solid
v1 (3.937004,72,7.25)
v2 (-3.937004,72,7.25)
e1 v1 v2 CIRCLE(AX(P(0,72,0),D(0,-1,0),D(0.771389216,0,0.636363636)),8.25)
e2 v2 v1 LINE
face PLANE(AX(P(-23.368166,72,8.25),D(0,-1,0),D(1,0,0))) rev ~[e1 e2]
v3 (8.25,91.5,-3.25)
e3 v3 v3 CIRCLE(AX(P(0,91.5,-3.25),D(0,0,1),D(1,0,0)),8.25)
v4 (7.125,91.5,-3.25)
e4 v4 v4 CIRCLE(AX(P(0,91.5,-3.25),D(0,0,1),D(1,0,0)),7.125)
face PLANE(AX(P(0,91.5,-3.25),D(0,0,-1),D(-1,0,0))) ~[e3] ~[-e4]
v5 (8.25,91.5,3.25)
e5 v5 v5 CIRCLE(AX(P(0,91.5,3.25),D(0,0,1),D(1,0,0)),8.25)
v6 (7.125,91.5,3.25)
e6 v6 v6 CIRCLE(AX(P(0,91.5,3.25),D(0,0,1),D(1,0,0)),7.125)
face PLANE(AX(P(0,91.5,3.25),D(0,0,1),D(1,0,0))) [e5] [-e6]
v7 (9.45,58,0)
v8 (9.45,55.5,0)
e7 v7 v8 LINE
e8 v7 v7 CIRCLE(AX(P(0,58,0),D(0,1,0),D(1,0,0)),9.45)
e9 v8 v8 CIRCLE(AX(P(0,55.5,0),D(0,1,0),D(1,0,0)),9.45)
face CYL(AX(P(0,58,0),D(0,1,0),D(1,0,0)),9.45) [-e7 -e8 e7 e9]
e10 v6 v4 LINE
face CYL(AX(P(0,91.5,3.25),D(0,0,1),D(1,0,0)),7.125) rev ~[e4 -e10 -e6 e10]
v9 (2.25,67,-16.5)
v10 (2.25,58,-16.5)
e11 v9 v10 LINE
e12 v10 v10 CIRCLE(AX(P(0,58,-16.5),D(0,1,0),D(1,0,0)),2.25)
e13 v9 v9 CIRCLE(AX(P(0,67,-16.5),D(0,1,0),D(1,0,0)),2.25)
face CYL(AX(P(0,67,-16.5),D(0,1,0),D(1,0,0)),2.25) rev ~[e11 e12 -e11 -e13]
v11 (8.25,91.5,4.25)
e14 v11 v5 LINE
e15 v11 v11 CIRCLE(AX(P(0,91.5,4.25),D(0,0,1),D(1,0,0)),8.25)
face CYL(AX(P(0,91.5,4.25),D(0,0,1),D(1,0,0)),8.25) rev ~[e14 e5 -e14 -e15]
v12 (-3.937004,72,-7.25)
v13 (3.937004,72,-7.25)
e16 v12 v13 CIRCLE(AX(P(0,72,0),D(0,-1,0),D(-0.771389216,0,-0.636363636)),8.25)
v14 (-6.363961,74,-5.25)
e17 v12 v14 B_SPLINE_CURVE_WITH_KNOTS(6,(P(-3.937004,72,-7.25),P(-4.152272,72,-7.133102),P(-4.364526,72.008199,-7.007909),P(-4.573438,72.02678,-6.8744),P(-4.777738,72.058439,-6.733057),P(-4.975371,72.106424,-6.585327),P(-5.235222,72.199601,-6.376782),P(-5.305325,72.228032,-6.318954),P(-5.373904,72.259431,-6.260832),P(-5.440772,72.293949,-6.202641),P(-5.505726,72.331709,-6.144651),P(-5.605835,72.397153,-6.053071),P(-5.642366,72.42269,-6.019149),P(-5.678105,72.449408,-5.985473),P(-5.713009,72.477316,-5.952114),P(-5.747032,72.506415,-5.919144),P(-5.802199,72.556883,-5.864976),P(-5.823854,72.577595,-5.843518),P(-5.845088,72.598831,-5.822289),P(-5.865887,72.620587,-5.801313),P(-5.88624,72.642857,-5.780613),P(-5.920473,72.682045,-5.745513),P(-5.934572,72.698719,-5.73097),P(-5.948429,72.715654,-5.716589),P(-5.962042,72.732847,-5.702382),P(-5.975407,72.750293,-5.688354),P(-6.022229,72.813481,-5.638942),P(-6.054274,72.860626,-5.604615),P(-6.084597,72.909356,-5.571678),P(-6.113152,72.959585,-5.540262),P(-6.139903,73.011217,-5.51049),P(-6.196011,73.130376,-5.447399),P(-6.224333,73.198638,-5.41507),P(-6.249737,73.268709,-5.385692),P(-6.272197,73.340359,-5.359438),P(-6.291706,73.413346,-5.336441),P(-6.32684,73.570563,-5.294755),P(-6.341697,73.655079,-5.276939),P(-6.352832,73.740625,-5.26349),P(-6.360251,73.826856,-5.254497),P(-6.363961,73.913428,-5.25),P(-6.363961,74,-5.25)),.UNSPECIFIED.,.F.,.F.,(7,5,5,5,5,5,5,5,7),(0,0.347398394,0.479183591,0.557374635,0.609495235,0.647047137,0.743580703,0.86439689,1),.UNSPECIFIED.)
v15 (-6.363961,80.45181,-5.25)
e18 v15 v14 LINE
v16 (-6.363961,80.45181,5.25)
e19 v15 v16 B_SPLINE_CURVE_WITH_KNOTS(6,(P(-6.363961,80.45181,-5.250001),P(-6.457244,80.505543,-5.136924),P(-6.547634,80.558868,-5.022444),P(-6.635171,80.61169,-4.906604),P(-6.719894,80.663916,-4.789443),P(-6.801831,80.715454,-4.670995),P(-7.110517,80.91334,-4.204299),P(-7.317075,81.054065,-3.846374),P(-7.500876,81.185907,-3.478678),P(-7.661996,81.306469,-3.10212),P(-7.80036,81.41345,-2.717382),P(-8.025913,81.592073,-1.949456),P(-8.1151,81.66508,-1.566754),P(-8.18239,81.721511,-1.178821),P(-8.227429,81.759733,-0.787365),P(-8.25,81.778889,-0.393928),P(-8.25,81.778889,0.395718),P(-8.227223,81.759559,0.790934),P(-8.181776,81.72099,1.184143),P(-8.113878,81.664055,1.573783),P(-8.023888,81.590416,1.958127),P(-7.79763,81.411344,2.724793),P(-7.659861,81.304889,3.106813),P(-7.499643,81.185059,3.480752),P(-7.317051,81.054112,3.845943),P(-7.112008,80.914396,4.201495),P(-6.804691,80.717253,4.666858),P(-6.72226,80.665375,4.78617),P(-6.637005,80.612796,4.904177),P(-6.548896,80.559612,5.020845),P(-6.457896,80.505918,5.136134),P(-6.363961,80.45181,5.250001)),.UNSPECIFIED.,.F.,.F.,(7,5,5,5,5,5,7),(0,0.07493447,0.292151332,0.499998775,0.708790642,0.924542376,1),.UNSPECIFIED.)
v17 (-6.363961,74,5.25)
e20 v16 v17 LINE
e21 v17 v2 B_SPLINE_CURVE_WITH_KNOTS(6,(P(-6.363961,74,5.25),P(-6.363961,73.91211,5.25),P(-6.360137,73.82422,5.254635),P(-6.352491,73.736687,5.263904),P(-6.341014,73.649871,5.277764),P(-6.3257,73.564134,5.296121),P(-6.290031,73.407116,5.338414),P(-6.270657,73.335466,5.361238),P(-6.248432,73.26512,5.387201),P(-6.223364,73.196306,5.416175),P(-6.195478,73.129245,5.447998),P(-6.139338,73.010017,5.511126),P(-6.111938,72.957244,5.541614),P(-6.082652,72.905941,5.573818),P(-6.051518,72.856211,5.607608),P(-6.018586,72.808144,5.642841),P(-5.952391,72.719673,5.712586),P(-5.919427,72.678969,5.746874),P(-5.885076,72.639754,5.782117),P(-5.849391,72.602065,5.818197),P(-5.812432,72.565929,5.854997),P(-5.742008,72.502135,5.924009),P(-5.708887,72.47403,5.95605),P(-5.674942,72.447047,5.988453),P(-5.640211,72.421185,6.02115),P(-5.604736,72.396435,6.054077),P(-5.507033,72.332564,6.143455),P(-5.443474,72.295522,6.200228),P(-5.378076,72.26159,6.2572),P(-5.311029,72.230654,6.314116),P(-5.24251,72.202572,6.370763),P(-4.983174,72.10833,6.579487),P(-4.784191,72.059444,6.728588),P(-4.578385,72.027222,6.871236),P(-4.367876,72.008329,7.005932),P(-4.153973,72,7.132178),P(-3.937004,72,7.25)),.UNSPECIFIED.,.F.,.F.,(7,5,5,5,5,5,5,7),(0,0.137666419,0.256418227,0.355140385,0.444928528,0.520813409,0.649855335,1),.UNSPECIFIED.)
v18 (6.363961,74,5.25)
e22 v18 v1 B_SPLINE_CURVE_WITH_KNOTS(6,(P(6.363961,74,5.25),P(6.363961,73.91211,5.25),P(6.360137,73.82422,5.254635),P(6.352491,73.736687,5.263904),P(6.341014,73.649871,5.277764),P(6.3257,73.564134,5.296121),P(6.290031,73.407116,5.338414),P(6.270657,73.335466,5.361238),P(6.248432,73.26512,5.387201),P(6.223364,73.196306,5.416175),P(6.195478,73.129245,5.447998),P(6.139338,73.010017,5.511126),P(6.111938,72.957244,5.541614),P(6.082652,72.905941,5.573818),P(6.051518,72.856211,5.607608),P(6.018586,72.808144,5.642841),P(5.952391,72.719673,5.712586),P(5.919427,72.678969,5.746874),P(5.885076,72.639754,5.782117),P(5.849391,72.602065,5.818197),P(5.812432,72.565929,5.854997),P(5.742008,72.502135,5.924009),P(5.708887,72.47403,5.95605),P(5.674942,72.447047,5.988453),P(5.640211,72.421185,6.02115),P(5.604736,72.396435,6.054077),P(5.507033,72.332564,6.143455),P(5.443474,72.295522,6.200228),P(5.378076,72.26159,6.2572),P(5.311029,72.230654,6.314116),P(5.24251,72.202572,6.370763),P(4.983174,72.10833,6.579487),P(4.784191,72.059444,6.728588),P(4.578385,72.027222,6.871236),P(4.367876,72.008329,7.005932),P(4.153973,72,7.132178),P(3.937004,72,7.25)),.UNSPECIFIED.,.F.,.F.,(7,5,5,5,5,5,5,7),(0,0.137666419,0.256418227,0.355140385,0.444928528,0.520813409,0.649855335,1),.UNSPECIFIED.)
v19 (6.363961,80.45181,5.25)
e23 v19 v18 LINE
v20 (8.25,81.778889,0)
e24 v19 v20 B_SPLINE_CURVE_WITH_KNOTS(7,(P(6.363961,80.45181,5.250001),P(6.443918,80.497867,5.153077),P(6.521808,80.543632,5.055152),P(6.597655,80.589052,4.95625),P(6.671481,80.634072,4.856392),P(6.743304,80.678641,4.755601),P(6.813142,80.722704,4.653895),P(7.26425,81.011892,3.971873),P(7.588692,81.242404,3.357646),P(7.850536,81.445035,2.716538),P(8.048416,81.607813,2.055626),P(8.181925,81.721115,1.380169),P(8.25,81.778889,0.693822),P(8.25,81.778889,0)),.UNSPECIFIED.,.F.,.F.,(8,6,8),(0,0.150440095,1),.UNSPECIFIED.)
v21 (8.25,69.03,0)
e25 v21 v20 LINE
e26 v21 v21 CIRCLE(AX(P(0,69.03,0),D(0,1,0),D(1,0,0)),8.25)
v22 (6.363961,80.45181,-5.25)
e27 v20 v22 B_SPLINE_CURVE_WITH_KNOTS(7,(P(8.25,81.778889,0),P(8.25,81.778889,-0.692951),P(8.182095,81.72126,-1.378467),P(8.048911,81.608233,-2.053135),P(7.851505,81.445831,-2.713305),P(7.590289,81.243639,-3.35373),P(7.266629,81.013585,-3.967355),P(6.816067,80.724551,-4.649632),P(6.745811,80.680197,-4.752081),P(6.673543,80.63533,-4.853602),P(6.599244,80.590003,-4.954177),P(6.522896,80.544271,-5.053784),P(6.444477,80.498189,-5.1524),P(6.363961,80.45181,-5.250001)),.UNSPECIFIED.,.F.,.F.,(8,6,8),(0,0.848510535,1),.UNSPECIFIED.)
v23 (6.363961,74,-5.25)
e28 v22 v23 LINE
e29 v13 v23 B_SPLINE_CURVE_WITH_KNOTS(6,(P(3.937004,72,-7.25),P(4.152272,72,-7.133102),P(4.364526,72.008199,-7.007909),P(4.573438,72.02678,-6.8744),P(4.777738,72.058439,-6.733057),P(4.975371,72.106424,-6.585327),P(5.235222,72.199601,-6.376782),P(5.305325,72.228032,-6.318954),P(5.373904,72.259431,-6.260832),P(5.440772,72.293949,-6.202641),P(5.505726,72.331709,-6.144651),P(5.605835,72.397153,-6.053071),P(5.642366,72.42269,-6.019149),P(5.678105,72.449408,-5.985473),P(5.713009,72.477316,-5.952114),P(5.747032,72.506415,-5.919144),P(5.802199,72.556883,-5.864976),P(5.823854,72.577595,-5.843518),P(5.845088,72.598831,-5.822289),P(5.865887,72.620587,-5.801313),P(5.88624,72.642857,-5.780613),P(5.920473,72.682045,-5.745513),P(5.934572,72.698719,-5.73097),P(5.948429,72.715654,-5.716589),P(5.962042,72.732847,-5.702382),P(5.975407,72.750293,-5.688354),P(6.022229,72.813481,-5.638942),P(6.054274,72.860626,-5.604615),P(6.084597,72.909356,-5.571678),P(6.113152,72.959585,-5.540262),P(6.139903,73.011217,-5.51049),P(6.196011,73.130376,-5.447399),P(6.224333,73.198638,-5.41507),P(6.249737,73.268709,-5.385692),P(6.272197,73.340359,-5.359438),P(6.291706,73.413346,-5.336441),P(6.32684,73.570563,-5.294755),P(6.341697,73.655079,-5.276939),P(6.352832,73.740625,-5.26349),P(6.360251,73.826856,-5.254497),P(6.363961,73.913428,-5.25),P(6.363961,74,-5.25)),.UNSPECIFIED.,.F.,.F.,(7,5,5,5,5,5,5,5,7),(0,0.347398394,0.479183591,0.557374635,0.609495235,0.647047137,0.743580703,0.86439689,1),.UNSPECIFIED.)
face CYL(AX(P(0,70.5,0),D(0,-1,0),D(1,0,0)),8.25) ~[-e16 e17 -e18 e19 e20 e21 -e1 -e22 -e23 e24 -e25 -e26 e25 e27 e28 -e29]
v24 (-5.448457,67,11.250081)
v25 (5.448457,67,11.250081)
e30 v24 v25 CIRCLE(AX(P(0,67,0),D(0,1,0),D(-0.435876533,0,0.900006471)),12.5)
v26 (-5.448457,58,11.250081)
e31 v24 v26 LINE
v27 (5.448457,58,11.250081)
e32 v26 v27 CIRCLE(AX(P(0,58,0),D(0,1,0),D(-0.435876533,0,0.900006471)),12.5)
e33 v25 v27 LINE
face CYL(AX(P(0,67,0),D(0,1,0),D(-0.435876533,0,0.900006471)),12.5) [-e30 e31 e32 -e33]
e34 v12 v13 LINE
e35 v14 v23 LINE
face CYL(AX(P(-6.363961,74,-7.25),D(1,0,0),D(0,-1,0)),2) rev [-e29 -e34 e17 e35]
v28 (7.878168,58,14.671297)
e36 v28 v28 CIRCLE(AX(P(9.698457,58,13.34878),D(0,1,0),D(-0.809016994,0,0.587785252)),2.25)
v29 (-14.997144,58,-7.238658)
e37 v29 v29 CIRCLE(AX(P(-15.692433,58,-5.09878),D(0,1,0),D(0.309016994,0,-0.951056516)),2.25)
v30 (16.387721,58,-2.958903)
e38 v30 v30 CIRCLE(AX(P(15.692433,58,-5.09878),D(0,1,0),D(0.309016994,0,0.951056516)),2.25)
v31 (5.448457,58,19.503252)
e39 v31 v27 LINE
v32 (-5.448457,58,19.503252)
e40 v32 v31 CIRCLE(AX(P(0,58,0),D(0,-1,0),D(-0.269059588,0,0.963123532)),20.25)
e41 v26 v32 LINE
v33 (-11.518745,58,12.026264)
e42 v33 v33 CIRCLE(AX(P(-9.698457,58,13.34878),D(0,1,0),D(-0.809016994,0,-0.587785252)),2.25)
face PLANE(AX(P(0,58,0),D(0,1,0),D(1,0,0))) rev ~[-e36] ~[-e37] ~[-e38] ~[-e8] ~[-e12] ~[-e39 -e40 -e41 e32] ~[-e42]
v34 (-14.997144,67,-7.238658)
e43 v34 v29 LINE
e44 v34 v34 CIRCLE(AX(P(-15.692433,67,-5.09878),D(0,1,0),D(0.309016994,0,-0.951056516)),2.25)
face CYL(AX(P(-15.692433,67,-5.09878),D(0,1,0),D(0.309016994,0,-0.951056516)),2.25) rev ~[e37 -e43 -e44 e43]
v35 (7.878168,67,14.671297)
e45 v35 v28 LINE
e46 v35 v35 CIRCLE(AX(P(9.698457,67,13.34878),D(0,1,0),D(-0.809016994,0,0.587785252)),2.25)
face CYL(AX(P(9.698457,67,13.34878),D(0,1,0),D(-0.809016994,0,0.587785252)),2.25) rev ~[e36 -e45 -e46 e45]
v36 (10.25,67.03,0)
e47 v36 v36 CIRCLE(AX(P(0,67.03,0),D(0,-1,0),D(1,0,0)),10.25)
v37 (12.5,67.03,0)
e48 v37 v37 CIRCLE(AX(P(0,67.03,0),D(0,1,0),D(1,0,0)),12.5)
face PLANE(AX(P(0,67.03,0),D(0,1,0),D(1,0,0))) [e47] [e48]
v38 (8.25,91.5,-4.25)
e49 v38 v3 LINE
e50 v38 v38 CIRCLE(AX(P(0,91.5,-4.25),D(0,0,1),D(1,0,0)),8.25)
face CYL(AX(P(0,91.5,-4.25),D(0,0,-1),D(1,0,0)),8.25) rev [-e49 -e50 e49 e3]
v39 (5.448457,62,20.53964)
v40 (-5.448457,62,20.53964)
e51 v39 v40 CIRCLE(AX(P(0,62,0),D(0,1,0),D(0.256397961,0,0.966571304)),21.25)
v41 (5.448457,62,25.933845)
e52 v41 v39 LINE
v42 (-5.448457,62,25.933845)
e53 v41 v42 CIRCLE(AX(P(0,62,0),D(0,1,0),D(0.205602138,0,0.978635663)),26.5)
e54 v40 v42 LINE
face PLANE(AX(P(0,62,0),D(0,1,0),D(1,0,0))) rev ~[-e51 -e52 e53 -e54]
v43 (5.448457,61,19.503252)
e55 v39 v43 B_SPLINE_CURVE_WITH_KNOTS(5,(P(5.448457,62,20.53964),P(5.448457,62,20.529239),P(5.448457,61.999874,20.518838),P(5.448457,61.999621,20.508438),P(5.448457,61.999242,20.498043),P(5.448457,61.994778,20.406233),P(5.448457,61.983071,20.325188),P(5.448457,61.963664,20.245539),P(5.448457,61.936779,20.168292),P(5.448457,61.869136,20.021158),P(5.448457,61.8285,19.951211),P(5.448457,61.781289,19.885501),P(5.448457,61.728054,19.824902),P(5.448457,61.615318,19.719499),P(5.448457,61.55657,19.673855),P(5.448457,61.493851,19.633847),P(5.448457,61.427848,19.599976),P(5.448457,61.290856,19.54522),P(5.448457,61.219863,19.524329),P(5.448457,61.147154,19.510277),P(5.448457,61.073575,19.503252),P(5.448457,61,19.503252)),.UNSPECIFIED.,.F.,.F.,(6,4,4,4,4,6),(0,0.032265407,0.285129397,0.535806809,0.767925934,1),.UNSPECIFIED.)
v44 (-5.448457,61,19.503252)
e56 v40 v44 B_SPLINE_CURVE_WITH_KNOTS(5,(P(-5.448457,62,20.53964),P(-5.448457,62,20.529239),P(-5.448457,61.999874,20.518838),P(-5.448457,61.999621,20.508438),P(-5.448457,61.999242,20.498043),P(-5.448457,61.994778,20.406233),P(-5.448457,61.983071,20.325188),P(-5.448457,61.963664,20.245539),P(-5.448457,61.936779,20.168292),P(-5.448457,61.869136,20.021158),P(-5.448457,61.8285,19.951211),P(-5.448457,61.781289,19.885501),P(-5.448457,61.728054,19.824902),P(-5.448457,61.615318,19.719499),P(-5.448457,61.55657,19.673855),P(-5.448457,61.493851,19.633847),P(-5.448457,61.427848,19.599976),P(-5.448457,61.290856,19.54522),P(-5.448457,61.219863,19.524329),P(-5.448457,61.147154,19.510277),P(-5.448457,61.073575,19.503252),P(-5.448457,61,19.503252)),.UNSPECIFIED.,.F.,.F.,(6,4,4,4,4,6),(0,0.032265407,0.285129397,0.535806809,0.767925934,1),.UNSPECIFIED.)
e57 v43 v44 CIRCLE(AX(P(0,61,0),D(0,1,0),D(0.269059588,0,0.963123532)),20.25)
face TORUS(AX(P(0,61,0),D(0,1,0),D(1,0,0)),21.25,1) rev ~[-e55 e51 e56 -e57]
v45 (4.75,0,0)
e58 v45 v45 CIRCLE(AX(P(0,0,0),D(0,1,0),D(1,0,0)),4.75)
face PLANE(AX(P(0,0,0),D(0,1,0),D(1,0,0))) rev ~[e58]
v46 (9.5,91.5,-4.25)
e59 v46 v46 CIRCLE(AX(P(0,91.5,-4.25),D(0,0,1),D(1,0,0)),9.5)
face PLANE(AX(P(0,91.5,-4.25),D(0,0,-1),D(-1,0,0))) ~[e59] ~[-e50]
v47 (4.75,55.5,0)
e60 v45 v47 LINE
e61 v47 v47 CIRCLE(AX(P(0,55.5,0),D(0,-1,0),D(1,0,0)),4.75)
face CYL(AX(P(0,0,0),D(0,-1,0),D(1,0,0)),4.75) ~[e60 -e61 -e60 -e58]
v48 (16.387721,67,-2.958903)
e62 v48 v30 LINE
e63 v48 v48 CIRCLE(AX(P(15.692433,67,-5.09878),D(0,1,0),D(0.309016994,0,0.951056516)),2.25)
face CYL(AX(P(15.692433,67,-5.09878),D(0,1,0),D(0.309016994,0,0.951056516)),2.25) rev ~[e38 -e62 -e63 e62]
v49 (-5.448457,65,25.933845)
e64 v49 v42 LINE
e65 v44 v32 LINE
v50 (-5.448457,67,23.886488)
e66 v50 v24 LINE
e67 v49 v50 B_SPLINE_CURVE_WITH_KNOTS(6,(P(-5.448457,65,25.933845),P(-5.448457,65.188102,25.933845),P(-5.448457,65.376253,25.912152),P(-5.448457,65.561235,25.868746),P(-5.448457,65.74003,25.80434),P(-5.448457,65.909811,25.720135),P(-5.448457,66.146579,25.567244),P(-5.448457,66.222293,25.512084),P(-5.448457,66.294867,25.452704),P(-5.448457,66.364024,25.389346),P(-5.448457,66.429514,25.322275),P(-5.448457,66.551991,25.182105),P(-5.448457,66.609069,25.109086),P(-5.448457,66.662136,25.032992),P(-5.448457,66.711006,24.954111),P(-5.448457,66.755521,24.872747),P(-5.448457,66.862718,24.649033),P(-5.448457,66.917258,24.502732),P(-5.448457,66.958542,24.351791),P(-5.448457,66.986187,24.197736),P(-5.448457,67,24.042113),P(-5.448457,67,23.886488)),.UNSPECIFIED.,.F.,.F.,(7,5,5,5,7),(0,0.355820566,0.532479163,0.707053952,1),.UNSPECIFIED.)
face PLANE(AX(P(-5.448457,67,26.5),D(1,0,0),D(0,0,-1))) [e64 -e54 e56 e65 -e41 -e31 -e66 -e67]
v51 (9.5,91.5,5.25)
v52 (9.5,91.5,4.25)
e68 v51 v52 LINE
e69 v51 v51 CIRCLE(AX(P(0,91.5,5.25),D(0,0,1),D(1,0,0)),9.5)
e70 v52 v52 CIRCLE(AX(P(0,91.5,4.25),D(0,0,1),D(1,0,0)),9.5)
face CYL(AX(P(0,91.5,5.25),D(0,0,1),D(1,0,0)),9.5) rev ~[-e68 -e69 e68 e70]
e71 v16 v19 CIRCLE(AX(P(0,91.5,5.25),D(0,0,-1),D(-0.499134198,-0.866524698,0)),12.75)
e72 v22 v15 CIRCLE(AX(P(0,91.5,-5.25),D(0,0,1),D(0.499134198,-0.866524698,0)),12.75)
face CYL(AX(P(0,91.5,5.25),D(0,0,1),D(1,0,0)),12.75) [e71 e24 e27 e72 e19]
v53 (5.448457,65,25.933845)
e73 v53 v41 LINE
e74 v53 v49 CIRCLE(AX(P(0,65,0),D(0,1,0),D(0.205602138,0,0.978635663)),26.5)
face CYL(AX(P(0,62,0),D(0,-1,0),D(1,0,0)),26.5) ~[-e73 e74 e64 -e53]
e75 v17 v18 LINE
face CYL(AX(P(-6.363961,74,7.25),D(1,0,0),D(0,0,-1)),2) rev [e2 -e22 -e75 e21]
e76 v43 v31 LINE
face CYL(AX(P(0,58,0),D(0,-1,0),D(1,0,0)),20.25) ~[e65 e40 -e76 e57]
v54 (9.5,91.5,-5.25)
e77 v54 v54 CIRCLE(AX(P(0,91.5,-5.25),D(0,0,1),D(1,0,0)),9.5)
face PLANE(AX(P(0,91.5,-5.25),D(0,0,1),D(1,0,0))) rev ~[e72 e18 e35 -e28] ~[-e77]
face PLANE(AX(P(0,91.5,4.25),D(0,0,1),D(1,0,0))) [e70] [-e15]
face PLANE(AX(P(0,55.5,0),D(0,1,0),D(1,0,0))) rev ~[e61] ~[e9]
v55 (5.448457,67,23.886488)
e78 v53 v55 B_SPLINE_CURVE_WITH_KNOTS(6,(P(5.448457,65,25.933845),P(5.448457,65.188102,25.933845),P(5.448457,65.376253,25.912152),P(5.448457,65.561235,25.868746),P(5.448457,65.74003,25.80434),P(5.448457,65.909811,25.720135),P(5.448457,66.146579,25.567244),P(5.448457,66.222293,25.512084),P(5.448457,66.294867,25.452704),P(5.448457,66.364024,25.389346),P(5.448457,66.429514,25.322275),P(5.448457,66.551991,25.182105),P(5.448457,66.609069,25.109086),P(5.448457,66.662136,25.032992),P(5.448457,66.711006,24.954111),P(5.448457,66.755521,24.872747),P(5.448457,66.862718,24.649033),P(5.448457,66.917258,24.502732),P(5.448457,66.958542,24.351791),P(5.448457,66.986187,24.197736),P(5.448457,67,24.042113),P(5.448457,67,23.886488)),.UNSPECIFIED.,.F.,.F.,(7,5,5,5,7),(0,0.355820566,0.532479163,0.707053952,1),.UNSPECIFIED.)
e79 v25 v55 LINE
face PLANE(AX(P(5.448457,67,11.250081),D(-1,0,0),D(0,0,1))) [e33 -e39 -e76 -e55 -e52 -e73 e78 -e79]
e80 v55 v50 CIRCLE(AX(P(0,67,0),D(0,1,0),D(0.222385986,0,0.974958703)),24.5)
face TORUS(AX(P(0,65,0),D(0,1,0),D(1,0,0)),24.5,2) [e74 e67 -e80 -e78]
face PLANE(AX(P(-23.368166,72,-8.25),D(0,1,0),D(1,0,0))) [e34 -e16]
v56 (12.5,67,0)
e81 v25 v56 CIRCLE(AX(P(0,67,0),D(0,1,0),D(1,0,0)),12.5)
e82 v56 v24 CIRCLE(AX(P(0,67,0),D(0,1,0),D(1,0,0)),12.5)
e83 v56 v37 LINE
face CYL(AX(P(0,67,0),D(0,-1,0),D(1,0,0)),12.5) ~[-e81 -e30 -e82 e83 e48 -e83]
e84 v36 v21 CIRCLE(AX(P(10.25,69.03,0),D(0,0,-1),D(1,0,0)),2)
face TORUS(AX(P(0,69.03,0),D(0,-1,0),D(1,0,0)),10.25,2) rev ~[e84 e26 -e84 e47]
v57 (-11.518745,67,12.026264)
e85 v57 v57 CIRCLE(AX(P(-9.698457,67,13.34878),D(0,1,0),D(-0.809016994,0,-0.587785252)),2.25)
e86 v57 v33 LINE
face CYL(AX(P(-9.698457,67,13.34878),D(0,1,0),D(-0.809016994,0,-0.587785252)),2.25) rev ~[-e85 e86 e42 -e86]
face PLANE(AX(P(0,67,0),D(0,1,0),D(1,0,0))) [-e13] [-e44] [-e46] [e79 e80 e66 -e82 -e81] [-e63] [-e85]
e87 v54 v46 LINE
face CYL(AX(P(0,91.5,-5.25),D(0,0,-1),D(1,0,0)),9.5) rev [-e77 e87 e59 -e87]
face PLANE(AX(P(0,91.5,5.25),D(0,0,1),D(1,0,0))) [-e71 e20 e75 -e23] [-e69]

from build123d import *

# Parameters (mm, degrees)
SKETCH1_R           = 4.75
BOSS_EXTRUDE1_DEPTH = 58
SKETCH2_R           = 9.45
BOSS_EXTRUDE2_DEPTH = 2.5
SKETCH3_R           = 20.25
BOSS_EXTRUDE3_DEPTH = 4
SKETCH4_R           = 26.5
BOSS_EXTRUDE4_DEPTH = 5
FILLET2_R           = 1
FILLET3_R           = 2
SKETCH7_R           = 8.25
BOSS_EXTRUDE5_DEPTH = 3.5
SKETCH6_R           = 12.5
BOSS_EXTRUDE6_DEPTH = 0.03
FILLET4_R           = 2
CUT_EXTRUDE2_REACH  = 78.769
SKETCH10_R          = 2.25
CIRPATTERN2_COUNT   = 5
CUT_EXTRUDE3_REACH  = 78.769
SKETCH12_R          = 8.25
BOSS_EXTRUDE7_DEPTH = 11.5
SKETCH14_W          = 46.141054865
SKETCH14_H          = 36.084049614
CUT_EXTRUDE4_DEPTH  = 3
SKETCH15_W          = 46.141054865
SKETCH15_H          = 36.084049614
CUT_EXTRUDE6_DEPTH  = 3
FILLET5_R           = 2
FILLET6_R           = 2
SKETCH16_R          = 12.75
BOSS_EXTRUDE8_DEPTH = 10.5
SKETCH17_R          = 9.5
CUT_EXTRUDE9_DEPTH  = 1
SKETCH18_R          = 8.25
CUT_EXTRUDE10_DEPTH = 1
CUT_EXTRUDE11_REACH = 113.604
SKETCH19_R          = 7.125


with BuildPart() as part:
    # Sketch1 → Boss-Extrude1 (new body)
    with BuildSketch(Plane(origin=(0, 0, 0), x_dir=(1, 0, 0), z_dir=(0, 1, 0))):
        Circle(SKETCH1_R)
    extrude(amount=BOSS_EXTRUDE1_DEPTH)

    # Sketch2 → Boss-Extrude2 (add)
    with BuildSketch(Plane(origin=(0, 58, 0), x_dir=(1, 0, 0), z_dir=(0, 1, 0))):
        Circle(SKETCH2_R)
    extrude(amount=-BOSS_EXTRUDE2_DEPTH)

    # Sketch3 → Boss-Extrude3 (add)
    with BuildSketch(Plane(origin=(0, 58, 0), x_dir=(1, 0, 0), z_dir=(0, 1, 0))):
        Circle(SKETCH3_R)
    extrude(amount=BOSS_EXTRUDE3_DEPTH)

    # Sketch4 → Boss-Extrude4 (add)
    with BuildSketch(Plane(origin=(0, 62, 0), x_dir=(1, 0, 0), z_dir=(0, 1, 0))):
        Circle(SKETCH4_R)
    extrude(amount=BOSS_EXTRUDE4_DEPTH)

    # Fillet2
    fillet2_edges = [part.edges().sort_by_distance(p)[0] for p in [
        (-20.25, 62, 0),
    ]]
    fillet(fillet2_edges, radius=FILLET2_R)

    # Fillet3
    fillet3_edges = [part.edges().sort_by_distance(p)[0] for p in [
        (-26.5, 67, 0),
    ]]
    fillet(fillet3_edges, radius=FILLET3_R)

    # Sketch7 → Boss-Extrude5 (add)
    with BuildSketch(Plane(origin=(0, 67, 0), x_dir=(1, 0, 0), z_dir=(0, 1, 0))):
        Circle(SKETCH7_R)
    boss_extrude5 = extrude(amount=BOSS_EXTRUDE5_DEPTH)

    # Sketch6 → Boss-Extrude6 (add)
    with BuildSketch(Plane(origin=(0, 67, 0), x_dir=(1, 0, 0), z_dir=(0, 1, 0))):
        Circle(SKETCH6_R)
    extrude(amount=BOSS_EXTRUDE6_DEPTH)

    # Fillet4
    fillet4_edges = [part.edges().sort_by_distance(p)[0] for p in [
        (-8.25, 67.03, 0),
    ]]
    fillet(fillet4_edges, radius=FILLET4_R)

    # Sketch10 → Cut-Extrude2 (cut, up to next)
    with BuildSketch(Plane(origin=(0, 67, 0), x_dir=(1, 0, 0), z_dir=(0, 1, 0)), mode=Mode.PRIVATE) as cut_extrude2_sk1:
        with Locations((0, 16.5)):
            Circle(SKETCH10_R)
    cut_extrude2_tool1 = extrude(cut_extrude2_sk1.sketch, amount=-CUT_EXTRUDE2_REACH, mode=Mode.PRIVATE) & part.part
    cut_extrude2 = cut_extrude2_tool1.solids().sort_by_distance((0, 67, -16.5))[0]
    add(cut_extrude2, mode=Mode.SUBTRACT)

    # CirPattern2: Boss-Extrude5, Cut-Extrude2 ×5 about axis
    cirpattern2_axis = Axis((0, 67, 0), (0, 1, 0))
    add([boss_extrude5.rotate(cirpattern2_axis, i * 360 / CIRPATTERN2_COUNT) for i in range(1, CIRPATTERN2_COUNT)])
    add([cut_extrude2.rotate(cirpattern2_axis, i * 360 / CIRPATTERN2_COUNT) for i in range(1, CIRPATTERN2_COUNT)], mode=Mode.SUBTRACT)

    # Sketch11 → Cut-Extrude3 (cut, up to next)
    with BuildSketch(Plane(origin=(0, 67, 0), x_dir=(1, 0, 0), z_dir=(0, 1, 0)), mode=Mode.PRIVATE) as cut_extrude3_sk1:
        with BuildLine():
            Line((-5.448456663, -13.348780407), (-5.448456663, -11.250080888))
            ThreePointArc((-5.448456663, -11.250080888), (0, -12.5), (5.448456663, -11.250080888))
            Line((5.448456663, -11.250080888), (5.448456663, -13.348780407))
            Line((5.448456663, -13.348780407), (5.448456663, -26.5))
            Line((5.448456663, -26.5), (-5.448456663, -26.5))
            Line((-5.448456663, -26.5), (-5.448456663, -13.348780407))
        make_face()
    cut_extrude3_tool1 = extrude(cut_extrude3_sk1.sketch, amount=-CUT_EXTRUDE3_REACH, mode=Mode.PRIVATE) & part.part
    add(cut_extrude3_tool1.solids().sort_by_distance((0, 67, 19.291289))[0], mode=Mode.SUBTRACT)

    # Sketch12 → Boss-Extrude7 (add)
    with BuildSketch(Plane(origin=(0, 70.5, 0), x_dir=(1, 0, 0), z_dir=(0, 1, 0))):
        Circle(SKETCH12_R)
    extrude(amount=BOSS_EXTRUDE7_DEPTH)

    # Sketch14 → Cut-Extrude4 (cut)
    with BuildSketch(Plane.XY.offset(8.25)):
        with Locations((-0.297638502, 90.042024807)):
            Rectangle(SKETCH14_W, SKETCH14_H)
    extrude(amount=-CUT_EXTRUDE4_DEPTH, mode=Mode.SUBTRACT)

    # Sketch15 → Cut-Extrude6 (cut)
    with BuildSketch(Plane.XY.offset(-8.25)):
        with Locations((-0.297638502, 90.042024807)):
            Rectangle(SKETCH15_W, SKETCH15_H)
    extrude(amount=CUT_EXTRUDE6_DEPTH, mode=Mode.SUBTRACT)

    # Fillet5
    fillet5_edges = [part.edges().sort_by_distance(p)[0] for p in [
        (0, 72, -5.25),
    ]]
    fillet(fillet5_edges, radius=FILLET5_R)

    # Fillet6
    fillet6_edges = [part.edges().sort_by_distance(p)[0] for p in [
        (0, 72, 5.25),
    ]]
    fillet(fillet6_edges, radius=FILLET6_R)

    # Sketch16 → Boss-Extrude8 (add)
    with BuildSketch(Plane.XY.offset(5.25)):
        with Locations((0, 91.5)):
            Circle(SKETCH16_R)
    extrude(amount=-BOSS_EXTRUDE8_DEPTH)

    # Sketch17 → Cut-Extrude9 (cut)
    with BuildSketch(Plane.XY.offset(5.25)):
        with Locations((0, 91.5)):
            Circle(SKETCH17_R)
    cut_extrude9 = extrude(amount=-CUT_EXTRUDE9_DEPTH, mode=Mode.SUBTRACT)

    # Sketch18 → Cut-Extrude10 (cut)
    with BuildSketch(Plane.XY.offset(4.25)):
        with Locations((0, 91.5)):
            Circle(SKETCH18_R)
    cut_extrude10 = extrude(amount=-CUT_EXTRUDE10_DEPTH, mode=Mode.SUBTRACT)

    # Sketch19 → Cut-Extrude11 (cut, up to next)
    with BuildSketch(Plane.XY.offset(3.25), mode=Mode.PRIVATE) as cut_extrude11_sk1:
        with Locations((0, 91.5)):
            Circle(SKETCH19_R)
    cut_extrude11_tool1 = extrude(cut_extrude11_sk1.sketch, amount=-CUT_EXTRUDE11_REACH, mode=Mode.PRIVATE) & part.part
    add(cut_extrude11_tool1.solids().sort_by_distance((0, 91.5, 3.25))[0], mode=Mode.SUBTRACT)

    # Mirror1: Cut-Extrude9 across plane
    add(cut_extrude9.mirror(Plane.XY), mode=Mode.SUBTRACT)

    # Mirror2: Cut-Extrude10 across plane
    add(cut_extrude10.mirror(Plane.XY), mode=Mode.SUBTRACT)


solid = part.part
